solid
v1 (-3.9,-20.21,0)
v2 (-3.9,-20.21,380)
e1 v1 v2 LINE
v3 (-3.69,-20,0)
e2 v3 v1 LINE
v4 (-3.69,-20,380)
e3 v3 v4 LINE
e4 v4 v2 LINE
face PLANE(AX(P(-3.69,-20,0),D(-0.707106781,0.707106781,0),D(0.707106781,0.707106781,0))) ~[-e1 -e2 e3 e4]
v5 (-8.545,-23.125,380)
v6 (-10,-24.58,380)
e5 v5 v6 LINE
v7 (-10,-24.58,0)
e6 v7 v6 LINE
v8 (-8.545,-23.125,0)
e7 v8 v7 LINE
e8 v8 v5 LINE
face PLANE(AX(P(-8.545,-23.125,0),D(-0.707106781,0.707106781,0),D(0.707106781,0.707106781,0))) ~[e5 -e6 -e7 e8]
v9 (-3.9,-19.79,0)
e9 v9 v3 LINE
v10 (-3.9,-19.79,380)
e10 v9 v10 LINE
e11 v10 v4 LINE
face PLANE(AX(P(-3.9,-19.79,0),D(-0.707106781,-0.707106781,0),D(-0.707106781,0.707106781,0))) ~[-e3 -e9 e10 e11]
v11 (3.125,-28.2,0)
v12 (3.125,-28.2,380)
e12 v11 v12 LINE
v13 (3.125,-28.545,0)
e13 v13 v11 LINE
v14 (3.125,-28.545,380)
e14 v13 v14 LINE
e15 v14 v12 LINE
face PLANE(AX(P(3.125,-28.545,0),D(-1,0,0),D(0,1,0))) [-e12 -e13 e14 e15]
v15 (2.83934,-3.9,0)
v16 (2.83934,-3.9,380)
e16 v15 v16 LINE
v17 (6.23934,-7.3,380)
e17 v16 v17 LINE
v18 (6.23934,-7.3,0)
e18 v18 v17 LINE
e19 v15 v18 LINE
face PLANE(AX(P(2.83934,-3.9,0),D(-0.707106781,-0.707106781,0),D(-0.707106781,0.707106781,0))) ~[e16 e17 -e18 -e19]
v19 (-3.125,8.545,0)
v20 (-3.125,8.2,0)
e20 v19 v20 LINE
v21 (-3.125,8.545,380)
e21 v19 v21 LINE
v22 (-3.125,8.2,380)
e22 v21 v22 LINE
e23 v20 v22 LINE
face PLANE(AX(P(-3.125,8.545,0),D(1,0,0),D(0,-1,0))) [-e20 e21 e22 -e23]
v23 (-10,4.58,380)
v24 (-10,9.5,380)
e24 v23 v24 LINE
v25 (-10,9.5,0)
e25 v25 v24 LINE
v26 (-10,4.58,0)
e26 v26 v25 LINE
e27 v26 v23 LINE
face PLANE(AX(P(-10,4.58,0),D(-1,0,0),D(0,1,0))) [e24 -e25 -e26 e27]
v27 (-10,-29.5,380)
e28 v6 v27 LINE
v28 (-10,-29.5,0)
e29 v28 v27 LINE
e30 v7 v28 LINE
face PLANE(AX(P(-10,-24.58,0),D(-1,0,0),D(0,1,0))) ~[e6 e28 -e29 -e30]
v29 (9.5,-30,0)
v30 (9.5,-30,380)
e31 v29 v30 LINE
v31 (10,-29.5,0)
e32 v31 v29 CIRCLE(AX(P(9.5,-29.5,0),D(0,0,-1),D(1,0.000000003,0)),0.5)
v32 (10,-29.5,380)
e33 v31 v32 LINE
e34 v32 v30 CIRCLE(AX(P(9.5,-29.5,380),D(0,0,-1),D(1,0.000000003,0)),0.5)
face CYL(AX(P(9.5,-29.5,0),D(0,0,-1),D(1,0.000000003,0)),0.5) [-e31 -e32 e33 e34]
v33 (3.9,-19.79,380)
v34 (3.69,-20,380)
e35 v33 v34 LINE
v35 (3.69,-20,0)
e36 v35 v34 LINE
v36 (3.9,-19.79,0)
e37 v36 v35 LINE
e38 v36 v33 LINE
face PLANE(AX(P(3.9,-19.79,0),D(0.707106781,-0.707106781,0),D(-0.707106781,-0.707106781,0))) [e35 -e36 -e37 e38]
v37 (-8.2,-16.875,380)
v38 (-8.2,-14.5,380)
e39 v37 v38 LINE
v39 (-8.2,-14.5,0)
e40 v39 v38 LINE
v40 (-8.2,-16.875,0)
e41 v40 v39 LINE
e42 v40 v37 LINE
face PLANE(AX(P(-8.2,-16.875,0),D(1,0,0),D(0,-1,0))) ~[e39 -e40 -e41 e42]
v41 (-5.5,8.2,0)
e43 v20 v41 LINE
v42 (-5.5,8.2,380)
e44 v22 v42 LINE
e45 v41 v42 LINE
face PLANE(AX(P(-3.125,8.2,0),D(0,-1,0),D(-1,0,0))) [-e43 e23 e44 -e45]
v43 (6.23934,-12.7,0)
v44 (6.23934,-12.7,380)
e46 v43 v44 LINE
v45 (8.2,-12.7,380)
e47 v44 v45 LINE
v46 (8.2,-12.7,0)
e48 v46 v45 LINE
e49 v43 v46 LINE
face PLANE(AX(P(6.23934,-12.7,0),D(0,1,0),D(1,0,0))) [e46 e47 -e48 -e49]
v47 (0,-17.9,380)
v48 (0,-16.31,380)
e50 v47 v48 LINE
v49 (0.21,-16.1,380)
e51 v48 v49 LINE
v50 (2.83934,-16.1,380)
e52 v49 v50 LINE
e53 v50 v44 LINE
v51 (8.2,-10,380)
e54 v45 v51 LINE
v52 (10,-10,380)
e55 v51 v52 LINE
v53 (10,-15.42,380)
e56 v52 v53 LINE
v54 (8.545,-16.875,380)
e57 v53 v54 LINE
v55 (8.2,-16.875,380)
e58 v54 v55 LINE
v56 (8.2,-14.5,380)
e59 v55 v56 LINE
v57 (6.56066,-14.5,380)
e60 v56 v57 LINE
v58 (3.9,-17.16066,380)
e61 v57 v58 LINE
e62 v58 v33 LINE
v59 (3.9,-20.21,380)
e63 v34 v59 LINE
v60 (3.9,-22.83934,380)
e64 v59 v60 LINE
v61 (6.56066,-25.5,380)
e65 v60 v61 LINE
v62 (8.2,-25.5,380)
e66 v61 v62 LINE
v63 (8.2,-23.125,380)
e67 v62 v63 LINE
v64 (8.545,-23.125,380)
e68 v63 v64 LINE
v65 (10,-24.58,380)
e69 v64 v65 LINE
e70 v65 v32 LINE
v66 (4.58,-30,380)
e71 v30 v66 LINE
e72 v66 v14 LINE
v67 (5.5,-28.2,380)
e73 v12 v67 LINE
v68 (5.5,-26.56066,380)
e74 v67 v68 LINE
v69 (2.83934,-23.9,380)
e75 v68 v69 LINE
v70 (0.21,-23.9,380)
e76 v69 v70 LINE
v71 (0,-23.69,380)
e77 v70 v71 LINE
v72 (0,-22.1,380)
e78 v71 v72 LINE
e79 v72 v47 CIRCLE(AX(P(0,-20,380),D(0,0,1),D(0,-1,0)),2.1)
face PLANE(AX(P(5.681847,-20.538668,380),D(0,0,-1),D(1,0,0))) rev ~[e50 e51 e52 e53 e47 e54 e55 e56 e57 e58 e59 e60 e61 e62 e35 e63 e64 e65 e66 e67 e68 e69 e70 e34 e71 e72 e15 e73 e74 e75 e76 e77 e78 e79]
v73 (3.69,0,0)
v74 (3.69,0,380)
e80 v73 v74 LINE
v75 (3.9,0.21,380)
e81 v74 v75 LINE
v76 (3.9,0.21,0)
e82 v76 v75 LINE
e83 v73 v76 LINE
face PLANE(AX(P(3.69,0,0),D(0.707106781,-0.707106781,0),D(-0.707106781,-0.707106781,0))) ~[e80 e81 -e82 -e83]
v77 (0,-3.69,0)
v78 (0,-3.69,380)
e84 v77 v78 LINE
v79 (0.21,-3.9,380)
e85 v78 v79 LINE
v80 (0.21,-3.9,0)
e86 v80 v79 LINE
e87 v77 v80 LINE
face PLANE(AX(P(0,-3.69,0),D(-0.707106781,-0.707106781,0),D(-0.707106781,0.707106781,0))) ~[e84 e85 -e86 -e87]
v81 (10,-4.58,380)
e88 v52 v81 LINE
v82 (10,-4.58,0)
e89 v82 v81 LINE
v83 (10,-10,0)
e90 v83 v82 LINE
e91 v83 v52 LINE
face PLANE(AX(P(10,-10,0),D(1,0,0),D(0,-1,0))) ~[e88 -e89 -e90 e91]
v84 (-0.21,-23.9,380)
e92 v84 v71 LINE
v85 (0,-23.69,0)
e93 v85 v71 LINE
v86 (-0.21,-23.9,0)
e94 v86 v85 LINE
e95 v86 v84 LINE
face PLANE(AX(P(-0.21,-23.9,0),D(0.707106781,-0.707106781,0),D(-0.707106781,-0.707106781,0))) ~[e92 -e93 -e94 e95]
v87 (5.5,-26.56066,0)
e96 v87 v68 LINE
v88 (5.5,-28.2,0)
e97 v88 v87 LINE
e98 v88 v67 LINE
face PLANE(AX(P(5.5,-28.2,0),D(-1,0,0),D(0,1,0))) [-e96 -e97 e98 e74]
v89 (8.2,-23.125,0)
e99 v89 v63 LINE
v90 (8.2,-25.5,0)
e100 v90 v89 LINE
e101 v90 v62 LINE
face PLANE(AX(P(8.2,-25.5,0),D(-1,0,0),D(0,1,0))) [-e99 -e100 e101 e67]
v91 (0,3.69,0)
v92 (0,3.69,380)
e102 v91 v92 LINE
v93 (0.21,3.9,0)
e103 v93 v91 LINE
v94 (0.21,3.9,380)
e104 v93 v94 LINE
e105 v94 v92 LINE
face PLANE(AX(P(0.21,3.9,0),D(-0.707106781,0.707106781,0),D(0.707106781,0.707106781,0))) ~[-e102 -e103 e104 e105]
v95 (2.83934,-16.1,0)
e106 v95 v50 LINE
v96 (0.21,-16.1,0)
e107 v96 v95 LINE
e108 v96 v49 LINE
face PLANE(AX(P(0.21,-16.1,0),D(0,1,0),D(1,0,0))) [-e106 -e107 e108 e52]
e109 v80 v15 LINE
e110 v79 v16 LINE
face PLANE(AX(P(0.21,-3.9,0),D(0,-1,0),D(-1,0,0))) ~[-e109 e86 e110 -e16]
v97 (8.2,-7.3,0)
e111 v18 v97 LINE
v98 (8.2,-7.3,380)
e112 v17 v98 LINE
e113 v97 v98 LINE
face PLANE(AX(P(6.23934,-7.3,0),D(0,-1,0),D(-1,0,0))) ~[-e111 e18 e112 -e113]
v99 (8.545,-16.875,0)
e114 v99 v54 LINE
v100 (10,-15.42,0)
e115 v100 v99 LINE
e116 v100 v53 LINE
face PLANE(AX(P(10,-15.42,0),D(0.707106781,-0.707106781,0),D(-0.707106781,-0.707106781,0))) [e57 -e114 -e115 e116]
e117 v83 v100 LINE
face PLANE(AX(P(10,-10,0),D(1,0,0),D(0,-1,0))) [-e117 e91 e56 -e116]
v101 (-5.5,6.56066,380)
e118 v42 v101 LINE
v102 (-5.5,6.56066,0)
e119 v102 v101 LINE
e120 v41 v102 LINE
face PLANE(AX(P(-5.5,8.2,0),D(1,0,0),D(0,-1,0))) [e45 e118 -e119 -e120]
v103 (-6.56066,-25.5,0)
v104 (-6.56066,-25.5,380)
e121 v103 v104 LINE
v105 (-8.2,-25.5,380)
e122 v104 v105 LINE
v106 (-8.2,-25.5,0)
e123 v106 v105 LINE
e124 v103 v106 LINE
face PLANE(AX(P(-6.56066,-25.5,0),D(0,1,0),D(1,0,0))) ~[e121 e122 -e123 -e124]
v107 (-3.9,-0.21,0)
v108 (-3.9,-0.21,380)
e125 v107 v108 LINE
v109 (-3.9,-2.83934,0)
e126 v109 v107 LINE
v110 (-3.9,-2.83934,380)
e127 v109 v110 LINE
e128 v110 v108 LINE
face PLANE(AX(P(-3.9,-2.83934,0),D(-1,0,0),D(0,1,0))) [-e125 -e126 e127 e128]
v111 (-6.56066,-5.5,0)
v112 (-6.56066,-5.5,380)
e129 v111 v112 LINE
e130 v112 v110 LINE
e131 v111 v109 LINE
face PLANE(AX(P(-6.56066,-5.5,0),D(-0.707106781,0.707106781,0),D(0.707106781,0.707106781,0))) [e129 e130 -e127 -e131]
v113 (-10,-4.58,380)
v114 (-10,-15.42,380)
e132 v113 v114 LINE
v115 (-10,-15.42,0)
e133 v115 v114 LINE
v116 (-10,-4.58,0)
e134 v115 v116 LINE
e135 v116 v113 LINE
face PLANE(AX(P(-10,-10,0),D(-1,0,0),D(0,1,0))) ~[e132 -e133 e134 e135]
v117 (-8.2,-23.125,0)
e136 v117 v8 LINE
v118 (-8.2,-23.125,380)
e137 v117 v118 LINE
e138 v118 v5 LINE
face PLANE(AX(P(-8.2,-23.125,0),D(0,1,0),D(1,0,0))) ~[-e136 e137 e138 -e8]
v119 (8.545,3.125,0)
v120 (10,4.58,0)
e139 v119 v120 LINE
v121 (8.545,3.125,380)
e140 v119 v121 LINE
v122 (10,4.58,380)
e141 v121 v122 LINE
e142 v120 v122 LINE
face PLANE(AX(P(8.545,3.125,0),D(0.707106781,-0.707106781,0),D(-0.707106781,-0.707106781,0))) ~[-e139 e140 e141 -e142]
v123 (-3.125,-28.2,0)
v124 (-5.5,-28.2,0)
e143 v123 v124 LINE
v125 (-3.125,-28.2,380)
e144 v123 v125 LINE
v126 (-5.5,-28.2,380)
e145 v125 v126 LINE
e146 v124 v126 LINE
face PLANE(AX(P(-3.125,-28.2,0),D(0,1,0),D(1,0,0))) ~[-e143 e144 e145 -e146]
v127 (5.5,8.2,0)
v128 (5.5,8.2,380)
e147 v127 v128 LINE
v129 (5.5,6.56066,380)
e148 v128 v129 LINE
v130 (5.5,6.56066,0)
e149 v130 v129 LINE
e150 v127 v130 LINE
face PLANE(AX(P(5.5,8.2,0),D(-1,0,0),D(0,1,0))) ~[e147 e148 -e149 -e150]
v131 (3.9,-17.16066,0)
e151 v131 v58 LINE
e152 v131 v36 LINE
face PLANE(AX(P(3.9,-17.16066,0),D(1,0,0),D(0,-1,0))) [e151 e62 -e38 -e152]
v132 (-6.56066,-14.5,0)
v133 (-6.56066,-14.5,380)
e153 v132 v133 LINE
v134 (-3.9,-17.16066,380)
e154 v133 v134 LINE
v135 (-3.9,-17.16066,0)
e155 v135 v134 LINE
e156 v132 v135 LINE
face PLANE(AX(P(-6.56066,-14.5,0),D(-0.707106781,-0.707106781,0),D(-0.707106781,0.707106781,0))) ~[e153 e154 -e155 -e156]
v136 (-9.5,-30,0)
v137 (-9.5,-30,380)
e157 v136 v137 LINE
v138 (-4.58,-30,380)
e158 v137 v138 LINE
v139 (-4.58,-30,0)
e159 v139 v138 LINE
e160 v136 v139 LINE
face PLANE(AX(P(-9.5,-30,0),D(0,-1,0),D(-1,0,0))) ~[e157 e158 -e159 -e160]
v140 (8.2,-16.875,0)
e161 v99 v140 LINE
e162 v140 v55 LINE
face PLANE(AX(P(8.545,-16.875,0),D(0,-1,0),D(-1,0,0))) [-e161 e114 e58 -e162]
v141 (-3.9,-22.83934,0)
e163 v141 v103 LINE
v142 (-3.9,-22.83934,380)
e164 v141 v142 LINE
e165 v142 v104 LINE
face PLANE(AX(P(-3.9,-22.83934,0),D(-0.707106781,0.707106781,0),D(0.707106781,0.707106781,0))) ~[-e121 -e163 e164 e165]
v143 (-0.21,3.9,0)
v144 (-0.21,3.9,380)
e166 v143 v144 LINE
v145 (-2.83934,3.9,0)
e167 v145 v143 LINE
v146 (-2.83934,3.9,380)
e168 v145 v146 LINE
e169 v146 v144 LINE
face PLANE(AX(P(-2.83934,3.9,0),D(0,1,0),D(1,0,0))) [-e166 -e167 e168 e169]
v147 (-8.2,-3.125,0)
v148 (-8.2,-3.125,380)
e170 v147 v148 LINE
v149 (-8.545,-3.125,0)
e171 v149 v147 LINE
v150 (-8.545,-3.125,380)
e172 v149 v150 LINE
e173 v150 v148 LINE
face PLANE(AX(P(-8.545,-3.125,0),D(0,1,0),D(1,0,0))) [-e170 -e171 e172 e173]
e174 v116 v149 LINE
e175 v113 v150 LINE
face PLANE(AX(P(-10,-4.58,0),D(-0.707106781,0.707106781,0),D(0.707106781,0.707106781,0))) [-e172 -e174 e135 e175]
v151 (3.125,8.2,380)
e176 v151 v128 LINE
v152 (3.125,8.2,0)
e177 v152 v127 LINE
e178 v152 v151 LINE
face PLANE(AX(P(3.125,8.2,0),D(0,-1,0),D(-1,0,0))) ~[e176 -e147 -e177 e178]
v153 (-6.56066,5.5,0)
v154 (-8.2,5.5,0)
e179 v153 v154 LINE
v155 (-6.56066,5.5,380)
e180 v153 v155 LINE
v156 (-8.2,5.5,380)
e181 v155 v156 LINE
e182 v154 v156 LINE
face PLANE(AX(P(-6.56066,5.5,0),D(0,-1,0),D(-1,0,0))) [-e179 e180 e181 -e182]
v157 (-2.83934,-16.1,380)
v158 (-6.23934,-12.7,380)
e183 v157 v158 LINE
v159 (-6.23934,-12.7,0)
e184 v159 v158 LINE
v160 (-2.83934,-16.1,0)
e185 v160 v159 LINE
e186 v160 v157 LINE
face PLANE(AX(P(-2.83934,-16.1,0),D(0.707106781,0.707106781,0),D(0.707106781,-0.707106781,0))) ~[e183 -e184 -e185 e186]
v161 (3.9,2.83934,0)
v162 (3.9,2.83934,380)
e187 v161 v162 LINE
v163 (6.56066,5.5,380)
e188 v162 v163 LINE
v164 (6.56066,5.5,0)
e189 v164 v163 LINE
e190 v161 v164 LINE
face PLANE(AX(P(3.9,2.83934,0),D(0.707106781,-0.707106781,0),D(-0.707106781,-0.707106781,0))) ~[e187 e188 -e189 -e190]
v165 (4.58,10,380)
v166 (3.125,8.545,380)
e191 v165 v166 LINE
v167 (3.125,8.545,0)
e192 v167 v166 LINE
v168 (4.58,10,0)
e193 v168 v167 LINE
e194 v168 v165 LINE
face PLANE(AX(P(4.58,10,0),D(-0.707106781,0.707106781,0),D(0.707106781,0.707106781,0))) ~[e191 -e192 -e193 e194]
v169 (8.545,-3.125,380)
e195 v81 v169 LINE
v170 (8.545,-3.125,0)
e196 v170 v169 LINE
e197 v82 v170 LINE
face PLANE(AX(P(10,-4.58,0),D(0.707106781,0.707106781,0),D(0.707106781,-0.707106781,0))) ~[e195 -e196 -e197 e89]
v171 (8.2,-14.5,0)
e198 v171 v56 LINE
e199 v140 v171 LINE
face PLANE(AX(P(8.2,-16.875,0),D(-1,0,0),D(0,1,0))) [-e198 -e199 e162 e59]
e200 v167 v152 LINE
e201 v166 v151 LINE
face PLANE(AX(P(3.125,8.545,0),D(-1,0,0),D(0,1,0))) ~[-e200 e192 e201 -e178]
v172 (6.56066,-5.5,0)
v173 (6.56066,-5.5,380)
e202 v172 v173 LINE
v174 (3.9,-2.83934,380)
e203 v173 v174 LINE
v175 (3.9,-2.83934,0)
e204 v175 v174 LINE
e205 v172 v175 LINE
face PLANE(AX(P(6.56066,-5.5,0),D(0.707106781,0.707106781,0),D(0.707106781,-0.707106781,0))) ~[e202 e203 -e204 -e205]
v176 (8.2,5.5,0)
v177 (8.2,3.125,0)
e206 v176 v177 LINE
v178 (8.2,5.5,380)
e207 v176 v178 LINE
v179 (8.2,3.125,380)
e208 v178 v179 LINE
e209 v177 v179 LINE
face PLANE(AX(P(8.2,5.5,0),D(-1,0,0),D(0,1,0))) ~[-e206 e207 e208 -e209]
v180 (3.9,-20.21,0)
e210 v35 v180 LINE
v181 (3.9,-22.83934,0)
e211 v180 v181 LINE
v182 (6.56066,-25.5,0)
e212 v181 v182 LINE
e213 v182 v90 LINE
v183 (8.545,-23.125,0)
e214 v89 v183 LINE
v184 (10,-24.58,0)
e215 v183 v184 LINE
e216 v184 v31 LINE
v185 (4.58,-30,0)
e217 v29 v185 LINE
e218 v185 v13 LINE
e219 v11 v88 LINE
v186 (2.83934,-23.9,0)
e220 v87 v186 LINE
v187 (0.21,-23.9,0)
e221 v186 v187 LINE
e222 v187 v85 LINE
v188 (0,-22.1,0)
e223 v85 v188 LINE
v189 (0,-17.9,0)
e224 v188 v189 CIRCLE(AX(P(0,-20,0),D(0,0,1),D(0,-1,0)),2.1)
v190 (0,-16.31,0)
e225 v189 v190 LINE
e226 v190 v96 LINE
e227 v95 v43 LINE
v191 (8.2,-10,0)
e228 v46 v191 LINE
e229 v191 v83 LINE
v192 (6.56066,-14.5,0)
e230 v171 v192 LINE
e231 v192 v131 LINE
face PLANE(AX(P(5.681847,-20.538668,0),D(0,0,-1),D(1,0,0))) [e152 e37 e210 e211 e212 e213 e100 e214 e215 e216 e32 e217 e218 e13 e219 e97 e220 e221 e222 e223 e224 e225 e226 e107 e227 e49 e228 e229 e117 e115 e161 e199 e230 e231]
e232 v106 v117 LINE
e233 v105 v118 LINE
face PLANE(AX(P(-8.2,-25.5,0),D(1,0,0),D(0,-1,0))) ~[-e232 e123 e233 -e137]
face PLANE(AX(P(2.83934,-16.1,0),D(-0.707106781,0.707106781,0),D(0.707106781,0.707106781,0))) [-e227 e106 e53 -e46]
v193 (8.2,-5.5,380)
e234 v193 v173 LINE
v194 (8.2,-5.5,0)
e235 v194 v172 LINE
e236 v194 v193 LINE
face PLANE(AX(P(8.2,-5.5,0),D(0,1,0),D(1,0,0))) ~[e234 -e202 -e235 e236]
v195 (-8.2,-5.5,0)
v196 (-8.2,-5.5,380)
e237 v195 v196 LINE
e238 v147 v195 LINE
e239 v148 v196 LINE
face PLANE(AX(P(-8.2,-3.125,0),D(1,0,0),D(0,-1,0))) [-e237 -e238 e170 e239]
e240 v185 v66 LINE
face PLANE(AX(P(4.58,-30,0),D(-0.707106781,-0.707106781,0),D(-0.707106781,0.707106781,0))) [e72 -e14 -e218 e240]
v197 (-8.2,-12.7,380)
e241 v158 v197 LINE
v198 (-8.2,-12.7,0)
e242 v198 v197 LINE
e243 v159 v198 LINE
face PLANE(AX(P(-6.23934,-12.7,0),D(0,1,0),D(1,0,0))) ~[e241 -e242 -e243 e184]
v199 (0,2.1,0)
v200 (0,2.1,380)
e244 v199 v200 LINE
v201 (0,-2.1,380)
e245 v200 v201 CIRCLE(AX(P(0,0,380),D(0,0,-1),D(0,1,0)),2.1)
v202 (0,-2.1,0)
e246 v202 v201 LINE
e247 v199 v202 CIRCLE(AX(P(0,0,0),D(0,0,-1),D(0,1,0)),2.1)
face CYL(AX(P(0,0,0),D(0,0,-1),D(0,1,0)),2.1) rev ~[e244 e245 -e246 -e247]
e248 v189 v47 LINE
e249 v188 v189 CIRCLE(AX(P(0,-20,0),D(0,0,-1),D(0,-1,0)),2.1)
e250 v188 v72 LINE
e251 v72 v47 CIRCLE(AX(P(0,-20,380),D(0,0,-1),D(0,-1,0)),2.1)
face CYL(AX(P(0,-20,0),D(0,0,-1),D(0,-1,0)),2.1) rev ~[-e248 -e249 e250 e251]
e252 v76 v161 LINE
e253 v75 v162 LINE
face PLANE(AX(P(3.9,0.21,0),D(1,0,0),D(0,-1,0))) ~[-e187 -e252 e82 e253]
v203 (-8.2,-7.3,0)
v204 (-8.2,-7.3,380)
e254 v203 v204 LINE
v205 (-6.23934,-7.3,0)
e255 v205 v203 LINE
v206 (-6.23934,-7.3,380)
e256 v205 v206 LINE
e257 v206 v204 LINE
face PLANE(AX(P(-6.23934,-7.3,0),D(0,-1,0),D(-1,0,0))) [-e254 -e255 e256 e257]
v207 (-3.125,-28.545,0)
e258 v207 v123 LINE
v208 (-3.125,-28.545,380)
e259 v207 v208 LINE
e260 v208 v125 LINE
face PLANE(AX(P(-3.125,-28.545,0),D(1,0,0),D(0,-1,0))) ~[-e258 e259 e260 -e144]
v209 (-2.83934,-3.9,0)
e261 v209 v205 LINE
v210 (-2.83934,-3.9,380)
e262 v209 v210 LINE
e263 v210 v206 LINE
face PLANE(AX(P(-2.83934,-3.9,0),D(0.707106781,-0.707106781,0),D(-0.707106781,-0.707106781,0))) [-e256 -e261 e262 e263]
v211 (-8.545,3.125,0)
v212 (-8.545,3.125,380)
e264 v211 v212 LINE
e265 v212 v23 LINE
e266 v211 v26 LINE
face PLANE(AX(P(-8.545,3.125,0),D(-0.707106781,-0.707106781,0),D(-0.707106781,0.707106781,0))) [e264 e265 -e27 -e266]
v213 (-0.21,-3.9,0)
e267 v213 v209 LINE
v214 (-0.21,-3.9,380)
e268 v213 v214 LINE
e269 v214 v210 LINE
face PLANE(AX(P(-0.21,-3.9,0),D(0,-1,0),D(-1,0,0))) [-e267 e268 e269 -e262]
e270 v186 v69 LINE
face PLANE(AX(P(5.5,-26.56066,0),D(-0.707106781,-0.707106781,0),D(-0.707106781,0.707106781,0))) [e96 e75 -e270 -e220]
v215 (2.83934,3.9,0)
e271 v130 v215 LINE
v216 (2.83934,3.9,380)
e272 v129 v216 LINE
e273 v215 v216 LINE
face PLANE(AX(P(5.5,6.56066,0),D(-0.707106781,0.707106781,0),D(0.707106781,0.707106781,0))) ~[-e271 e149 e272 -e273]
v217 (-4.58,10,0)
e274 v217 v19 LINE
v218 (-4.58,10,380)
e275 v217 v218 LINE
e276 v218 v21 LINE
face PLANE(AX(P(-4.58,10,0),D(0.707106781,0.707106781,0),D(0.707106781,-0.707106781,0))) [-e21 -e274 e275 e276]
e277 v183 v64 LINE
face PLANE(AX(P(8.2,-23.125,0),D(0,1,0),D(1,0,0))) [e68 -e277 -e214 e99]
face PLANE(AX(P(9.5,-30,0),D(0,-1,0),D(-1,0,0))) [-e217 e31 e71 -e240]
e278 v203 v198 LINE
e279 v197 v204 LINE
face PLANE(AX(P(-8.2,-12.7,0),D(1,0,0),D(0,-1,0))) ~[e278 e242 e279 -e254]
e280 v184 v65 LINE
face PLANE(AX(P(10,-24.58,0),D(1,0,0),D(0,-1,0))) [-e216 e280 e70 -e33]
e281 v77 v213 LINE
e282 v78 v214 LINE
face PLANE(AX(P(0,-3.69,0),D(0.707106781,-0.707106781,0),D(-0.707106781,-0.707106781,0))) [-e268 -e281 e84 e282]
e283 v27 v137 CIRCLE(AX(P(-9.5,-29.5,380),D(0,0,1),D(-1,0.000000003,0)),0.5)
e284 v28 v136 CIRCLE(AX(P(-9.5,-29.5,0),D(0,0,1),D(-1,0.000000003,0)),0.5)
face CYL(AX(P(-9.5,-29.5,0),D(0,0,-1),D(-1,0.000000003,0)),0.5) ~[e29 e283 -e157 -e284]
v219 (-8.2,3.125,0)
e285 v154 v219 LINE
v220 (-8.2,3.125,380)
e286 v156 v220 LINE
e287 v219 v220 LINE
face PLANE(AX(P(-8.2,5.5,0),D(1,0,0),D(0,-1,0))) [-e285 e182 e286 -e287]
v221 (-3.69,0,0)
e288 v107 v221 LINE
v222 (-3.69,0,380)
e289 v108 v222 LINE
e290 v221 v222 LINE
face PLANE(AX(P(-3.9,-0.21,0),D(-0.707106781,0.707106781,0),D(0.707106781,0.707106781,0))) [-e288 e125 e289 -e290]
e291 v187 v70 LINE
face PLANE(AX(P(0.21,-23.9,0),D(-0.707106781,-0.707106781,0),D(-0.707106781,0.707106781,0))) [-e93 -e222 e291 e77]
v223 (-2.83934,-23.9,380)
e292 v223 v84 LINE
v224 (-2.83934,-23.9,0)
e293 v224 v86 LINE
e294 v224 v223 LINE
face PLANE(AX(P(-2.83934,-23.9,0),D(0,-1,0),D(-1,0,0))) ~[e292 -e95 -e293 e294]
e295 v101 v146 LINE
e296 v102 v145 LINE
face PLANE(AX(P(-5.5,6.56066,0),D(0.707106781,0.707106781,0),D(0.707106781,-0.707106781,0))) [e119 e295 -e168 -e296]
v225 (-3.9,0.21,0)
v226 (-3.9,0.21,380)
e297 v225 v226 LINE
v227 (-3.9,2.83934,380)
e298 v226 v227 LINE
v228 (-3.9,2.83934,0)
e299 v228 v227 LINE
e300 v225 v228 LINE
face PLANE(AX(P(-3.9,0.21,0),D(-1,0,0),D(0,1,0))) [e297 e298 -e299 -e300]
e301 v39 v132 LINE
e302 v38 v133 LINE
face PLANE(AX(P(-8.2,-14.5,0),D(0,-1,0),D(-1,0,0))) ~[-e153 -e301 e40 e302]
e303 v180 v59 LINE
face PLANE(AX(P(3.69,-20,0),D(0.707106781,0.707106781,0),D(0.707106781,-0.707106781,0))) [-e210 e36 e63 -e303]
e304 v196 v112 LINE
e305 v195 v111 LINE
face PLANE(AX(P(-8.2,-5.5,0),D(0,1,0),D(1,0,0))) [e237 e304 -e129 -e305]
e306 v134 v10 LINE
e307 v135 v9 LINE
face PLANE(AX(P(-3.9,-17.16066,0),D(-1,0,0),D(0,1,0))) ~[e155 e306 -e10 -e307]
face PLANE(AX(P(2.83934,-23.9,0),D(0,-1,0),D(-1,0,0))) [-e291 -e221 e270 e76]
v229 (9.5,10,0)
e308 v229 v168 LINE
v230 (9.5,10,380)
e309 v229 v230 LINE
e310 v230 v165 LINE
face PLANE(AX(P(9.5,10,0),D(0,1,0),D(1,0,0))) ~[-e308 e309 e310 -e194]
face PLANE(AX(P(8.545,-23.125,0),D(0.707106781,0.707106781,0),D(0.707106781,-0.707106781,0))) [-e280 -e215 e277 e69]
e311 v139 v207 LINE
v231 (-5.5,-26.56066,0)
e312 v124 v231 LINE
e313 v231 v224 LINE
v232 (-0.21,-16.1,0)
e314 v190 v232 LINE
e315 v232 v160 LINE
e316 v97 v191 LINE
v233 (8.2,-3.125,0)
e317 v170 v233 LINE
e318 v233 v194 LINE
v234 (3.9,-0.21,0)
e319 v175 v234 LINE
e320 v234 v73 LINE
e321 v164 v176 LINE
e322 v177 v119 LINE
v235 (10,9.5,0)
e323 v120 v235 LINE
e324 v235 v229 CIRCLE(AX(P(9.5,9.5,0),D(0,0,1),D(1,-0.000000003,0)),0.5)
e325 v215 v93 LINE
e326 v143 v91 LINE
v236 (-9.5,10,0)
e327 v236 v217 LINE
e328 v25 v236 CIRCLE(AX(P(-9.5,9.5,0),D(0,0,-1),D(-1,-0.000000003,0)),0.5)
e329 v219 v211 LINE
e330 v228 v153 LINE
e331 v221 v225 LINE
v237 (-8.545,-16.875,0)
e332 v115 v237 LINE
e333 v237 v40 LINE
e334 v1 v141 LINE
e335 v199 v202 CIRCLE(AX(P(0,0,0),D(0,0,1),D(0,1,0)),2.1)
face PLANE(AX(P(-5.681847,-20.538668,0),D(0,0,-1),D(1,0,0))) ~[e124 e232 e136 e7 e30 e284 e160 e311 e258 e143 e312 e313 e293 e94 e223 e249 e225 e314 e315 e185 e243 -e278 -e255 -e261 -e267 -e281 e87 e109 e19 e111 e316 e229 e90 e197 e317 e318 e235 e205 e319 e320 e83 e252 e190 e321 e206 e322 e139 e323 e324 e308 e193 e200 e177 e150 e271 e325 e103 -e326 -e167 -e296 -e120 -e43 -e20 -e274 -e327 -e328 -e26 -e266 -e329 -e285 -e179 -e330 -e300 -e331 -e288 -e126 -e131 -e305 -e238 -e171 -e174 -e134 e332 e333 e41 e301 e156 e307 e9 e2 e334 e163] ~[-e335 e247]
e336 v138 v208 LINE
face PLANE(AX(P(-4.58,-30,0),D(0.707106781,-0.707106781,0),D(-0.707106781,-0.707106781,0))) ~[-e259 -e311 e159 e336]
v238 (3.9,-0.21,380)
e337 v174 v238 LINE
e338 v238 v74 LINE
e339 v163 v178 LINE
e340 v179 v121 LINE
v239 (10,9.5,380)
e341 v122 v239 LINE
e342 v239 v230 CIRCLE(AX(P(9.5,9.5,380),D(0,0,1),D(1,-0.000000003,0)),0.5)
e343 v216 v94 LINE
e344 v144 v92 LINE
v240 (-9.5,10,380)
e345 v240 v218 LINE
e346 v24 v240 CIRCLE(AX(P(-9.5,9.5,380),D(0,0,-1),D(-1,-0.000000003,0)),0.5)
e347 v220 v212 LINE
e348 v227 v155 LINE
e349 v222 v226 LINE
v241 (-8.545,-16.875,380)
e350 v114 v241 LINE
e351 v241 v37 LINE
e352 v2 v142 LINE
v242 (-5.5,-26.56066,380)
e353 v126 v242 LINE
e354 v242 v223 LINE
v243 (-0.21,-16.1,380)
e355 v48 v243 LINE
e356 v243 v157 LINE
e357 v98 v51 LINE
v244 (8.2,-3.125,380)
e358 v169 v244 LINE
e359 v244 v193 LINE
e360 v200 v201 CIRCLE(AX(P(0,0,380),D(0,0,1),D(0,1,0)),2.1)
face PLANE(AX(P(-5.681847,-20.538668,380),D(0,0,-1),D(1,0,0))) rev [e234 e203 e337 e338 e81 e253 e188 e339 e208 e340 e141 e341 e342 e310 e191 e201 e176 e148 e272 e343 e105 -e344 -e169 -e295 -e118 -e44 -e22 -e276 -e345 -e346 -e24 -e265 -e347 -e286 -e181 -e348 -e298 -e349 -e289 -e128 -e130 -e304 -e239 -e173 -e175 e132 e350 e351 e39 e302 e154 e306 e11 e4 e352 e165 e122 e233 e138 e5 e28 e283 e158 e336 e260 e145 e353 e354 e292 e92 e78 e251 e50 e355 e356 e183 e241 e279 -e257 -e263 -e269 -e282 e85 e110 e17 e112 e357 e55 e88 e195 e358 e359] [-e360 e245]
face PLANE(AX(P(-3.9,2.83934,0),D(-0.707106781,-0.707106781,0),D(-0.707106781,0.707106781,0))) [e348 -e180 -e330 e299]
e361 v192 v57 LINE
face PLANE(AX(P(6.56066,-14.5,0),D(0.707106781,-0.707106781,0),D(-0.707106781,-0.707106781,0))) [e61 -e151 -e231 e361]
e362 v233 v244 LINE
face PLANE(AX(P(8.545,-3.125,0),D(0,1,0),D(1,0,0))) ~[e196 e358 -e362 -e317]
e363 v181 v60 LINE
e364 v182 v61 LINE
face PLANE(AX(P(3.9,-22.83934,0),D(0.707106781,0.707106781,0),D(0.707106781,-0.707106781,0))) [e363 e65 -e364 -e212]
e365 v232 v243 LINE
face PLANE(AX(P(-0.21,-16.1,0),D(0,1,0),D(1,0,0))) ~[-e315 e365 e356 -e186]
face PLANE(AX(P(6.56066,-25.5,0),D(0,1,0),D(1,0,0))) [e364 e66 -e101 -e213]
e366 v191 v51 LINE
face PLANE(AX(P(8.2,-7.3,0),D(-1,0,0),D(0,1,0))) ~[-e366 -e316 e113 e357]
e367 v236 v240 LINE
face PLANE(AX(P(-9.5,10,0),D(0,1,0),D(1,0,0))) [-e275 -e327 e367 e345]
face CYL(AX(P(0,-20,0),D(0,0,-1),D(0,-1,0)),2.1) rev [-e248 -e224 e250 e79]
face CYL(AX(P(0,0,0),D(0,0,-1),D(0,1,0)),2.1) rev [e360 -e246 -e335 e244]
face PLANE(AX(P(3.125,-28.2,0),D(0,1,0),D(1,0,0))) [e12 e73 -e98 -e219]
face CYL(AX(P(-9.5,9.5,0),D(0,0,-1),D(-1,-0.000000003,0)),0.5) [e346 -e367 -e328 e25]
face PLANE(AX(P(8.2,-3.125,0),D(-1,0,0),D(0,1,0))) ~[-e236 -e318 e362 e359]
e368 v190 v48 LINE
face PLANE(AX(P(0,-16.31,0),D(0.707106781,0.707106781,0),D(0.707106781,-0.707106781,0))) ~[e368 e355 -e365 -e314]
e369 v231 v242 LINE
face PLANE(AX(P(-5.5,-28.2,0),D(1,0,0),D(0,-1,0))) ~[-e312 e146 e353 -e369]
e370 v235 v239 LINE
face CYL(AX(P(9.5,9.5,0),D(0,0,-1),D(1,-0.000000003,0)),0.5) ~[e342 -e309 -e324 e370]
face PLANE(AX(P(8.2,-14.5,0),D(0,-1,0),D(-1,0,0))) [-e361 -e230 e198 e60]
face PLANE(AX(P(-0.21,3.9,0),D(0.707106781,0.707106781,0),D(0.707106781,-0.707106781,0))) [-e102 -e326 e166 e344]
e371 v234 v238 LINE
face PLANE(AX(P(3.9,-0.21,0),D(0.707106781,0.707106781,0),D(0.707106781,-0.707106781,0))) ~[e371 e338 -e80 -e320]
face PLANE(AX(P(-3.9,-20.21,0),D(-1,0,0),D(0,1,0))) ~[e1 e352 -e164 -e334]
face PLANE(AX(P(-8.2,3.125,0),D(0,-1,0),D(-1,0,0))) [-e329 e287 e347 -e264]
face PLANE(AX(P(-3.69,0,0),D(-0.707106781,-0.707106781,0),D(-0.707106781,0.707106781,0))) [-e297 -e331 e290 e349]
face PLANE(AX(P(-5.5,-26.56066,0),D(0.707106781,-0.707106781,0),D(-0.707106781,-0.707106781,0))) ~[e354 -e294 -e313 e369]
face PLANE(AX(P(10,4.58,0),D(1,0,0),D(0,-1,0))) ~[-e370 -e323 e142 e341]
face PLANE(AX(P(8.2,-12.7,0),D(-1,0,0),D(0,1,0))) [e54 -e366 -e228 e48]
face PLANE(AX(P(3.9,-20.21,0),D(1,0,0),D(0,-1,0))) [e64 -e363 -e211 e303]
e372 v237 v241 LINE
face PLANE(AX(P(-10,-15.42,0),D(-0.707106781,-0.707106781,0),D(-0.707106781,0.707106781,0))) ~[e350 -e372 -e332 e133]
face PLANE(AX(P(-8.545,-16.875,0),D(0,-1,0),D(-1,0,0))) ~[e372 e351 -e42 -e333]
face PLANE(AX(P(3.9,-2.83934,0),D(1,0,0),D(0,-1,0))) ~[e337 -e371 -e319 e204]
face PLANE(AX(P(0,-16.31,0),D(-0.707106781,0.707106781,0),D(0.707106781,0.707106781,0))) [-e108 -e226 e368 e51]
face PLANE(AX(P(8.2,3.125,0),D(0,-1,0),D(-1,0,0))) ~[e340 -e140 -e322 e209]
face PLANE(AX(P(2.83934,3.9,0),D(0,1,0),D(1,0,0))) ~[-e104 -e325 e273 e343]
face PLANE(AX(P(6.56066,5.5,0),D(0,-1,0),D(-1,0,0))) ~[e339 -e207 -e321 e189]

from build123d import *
from build123d.topology import SkipClean

# Parameters (mm, degrees)
BOSS_EXTRU_1_DEPTH     = 380
SYM_TRIE6_COPY_1_DEPTH = 380


with BuildPart() as part:
    # Esquisse1 → Boss.-Extru.1 (new body)
    with BuildSketch(Plane.XY):
        with BuildLine():
            Line((-9.5, 10), (-4.58, 10))
            Line((-4.58, 10), (-3.125, 8.545))
            Line((-3.125, 8.545), (-3.125, 8.2))
            Line((-3.125, 8.2), (-5.5, 8.2))
            Line((-5.5, 8.2), (-5.5, 6.560660172))
            Line((-5.5, 6.560660172), (-2.839339828, 3.9))
            Line((-2.839339828, 3.9), (-0.21, 3.9))
            Line((-0.21, 3.9), (0, 3.69))
            Line((0, 3.69), (0, 2.1))
            ThreePointArc((0, 2.1), (-2.1, 0), (0, -2.1))
            Line((0, -2.1), (0, -3.69))
            Line((0, -3.69), (-0.21, -3.9))
            Line((-0.21, -3.9), (-2.839339828, -3.9))
            Line((-2.839339828, -3.9), (-6.239339828, -7.3))
            Line((-6.239339828, -7.3), (-8.2, -7.3))
            Line((-8.2, -7.3), (-8.2, -10))
            Line((-8.2, -10), (-10, -10))
            Line((-10, -10), (-10, -4.58))
            Line((-10, -4.58), (-8.545, -3.125))
            Line((-8.545, -3.125), (-8.2, -3.125))
            Line((-8.2, -3.125), (-8.2, -5.5))
            Line((-8.2, -5.5), (-6.560660172, -5.5))
            Line((-6.560660172, -5.5), (-3.9, -2.839339828))
            Line((-3.9, -2.839339828), (-3.9, -0.21))
            Line((-3.9, -0.21), (-3.69, 0))
            Line((-3.69, 0), (-3.9, 0.21))
            Line((-3.9, 0.21), (-3.9, 2.839339828))
            Line((-3.9, 2.839339828), (-6.560660172, 5.5))
            Line((-6.560660172, 5.5), (-8.2, 5.5))
            Line((-8.2, 5.5), (-8.2, 3.125))
            Line((-8.2, 3.125), (-8.545, 3.125))
            Line((-8.545, 3.125), (-10, 4.58))
            Line((-10, 4.58), (-10, 9.5))
            ThreePointArc((-10, 9.5), (-9.853553391, 9.853553391), (-9.5, 10))
        make_face()
    boss_extru_1 = extrude(amount=BOSS_EXTRU_1_DEPTH)

    # Symétrie1: Boss.-Extru.1 across plane
    add(boss_extru_1.mirror(Plane(origin=(0, 3.69, 380), x_dir=(0, 0, 1), z_dir=(-1, 0, 0))))

    # Symétrie6: Boss.-Extru.1 across plane
    add(boss_extru_1.mirror(Plane(origin=(-8.2, -10, 380), x_dir=(0, 0, 1), z_dir=(0, 1, 0))))

    # Symétrie6 copy 1 sketch → Symétrie6 copy 1 (add)
    with SkipClean():  # the faces are left unmerged after this step: merging them gives an invalid solid
        with BuildSketch(Plane(origin=(0, -20, 0), x_dir=(-1, 0, 0), z_dir=(0, 0, 1))):
            with BuildLine():
                Line((-9.5, 10), (-4.58, 10))
                Line((-4.58, 10), (-3.125, 8.545))
                Line((-3.125, 8.545), (-3.125, 8.2))
                Line((-3.125, 8.2), (-5.5, 8.2))
                Line((-5.5, 8.2), (-5.5, 6.560660172))
                Line((-5.5, 6.560660172), (-2.839339828, 3.9))
                Line((-2.839339828, 3.9), (-0.21, 3.9))
                Line((-0.21, 3.9), (0, 3.69))
                Line((0, 3.69), (0, 2.1))
                ThreePointArc((0, 2.1), (-2.1, 0), (0, -2.1))
                Line((0, -2.1), (0, -3.69))
                Line((0, -3.69), (-0.21, -3.9))
                Line((-0.21, -3.9), (-2.839339828, -3.9))
                Line((-2.839339828, -3.9), (-6.239339828, -7.3))
                Line((-6.239339828, -7.3), (-8.2, -7.3))
                Line((-8.2, -7.3), (-8.2, -10))
                Line((-8.2, -10), (-10, -10))
                Line((-10, -10), (-10, -4.58))
                Line((-10, -4.58), (-8.545, -3.125))
                Line((-8.545, -3.125), (-8.2, -3.125))
                Line((-8.2, -3.125), (-8.2, -5.5))
                Line((-8.2, -5.5), (-6.560660172, -5.5))
                Line((-6.560660172, -5.5), (-3.9, -2.839339828))
                Line((-3.9, -2.839339828), (-3.9, -0.21))
                Line((-3.9, -0.21), (-3.69, 0))
                Line((-3.69, 0), (-3.9, 0.21))
                Line((-3.9, 0.21), (-3.9, 2.839339828))
                Line((-3.9, 2.839339828), (-6.560660172, 5.5))
                Line((-6.560660172, 5.5), (-8.2, 5.5))
                Line((-8.2, 5.5), (-8.2, 3.125))
                Line((-8.2, 3.125), (-8.545, 3.125))
                Line((-8.545, 3.125), (-10, 4.58))
                Line((-10, 4.58), (-10, 9.5))
                ThreePointArc((-10, 9.5), (-9.853553391, 9.853553391), (-9.5, 10))
            make_face()
        extrude(amount=SYM_TRIE6_COPY_1_DEPTH)


solid = part.part
